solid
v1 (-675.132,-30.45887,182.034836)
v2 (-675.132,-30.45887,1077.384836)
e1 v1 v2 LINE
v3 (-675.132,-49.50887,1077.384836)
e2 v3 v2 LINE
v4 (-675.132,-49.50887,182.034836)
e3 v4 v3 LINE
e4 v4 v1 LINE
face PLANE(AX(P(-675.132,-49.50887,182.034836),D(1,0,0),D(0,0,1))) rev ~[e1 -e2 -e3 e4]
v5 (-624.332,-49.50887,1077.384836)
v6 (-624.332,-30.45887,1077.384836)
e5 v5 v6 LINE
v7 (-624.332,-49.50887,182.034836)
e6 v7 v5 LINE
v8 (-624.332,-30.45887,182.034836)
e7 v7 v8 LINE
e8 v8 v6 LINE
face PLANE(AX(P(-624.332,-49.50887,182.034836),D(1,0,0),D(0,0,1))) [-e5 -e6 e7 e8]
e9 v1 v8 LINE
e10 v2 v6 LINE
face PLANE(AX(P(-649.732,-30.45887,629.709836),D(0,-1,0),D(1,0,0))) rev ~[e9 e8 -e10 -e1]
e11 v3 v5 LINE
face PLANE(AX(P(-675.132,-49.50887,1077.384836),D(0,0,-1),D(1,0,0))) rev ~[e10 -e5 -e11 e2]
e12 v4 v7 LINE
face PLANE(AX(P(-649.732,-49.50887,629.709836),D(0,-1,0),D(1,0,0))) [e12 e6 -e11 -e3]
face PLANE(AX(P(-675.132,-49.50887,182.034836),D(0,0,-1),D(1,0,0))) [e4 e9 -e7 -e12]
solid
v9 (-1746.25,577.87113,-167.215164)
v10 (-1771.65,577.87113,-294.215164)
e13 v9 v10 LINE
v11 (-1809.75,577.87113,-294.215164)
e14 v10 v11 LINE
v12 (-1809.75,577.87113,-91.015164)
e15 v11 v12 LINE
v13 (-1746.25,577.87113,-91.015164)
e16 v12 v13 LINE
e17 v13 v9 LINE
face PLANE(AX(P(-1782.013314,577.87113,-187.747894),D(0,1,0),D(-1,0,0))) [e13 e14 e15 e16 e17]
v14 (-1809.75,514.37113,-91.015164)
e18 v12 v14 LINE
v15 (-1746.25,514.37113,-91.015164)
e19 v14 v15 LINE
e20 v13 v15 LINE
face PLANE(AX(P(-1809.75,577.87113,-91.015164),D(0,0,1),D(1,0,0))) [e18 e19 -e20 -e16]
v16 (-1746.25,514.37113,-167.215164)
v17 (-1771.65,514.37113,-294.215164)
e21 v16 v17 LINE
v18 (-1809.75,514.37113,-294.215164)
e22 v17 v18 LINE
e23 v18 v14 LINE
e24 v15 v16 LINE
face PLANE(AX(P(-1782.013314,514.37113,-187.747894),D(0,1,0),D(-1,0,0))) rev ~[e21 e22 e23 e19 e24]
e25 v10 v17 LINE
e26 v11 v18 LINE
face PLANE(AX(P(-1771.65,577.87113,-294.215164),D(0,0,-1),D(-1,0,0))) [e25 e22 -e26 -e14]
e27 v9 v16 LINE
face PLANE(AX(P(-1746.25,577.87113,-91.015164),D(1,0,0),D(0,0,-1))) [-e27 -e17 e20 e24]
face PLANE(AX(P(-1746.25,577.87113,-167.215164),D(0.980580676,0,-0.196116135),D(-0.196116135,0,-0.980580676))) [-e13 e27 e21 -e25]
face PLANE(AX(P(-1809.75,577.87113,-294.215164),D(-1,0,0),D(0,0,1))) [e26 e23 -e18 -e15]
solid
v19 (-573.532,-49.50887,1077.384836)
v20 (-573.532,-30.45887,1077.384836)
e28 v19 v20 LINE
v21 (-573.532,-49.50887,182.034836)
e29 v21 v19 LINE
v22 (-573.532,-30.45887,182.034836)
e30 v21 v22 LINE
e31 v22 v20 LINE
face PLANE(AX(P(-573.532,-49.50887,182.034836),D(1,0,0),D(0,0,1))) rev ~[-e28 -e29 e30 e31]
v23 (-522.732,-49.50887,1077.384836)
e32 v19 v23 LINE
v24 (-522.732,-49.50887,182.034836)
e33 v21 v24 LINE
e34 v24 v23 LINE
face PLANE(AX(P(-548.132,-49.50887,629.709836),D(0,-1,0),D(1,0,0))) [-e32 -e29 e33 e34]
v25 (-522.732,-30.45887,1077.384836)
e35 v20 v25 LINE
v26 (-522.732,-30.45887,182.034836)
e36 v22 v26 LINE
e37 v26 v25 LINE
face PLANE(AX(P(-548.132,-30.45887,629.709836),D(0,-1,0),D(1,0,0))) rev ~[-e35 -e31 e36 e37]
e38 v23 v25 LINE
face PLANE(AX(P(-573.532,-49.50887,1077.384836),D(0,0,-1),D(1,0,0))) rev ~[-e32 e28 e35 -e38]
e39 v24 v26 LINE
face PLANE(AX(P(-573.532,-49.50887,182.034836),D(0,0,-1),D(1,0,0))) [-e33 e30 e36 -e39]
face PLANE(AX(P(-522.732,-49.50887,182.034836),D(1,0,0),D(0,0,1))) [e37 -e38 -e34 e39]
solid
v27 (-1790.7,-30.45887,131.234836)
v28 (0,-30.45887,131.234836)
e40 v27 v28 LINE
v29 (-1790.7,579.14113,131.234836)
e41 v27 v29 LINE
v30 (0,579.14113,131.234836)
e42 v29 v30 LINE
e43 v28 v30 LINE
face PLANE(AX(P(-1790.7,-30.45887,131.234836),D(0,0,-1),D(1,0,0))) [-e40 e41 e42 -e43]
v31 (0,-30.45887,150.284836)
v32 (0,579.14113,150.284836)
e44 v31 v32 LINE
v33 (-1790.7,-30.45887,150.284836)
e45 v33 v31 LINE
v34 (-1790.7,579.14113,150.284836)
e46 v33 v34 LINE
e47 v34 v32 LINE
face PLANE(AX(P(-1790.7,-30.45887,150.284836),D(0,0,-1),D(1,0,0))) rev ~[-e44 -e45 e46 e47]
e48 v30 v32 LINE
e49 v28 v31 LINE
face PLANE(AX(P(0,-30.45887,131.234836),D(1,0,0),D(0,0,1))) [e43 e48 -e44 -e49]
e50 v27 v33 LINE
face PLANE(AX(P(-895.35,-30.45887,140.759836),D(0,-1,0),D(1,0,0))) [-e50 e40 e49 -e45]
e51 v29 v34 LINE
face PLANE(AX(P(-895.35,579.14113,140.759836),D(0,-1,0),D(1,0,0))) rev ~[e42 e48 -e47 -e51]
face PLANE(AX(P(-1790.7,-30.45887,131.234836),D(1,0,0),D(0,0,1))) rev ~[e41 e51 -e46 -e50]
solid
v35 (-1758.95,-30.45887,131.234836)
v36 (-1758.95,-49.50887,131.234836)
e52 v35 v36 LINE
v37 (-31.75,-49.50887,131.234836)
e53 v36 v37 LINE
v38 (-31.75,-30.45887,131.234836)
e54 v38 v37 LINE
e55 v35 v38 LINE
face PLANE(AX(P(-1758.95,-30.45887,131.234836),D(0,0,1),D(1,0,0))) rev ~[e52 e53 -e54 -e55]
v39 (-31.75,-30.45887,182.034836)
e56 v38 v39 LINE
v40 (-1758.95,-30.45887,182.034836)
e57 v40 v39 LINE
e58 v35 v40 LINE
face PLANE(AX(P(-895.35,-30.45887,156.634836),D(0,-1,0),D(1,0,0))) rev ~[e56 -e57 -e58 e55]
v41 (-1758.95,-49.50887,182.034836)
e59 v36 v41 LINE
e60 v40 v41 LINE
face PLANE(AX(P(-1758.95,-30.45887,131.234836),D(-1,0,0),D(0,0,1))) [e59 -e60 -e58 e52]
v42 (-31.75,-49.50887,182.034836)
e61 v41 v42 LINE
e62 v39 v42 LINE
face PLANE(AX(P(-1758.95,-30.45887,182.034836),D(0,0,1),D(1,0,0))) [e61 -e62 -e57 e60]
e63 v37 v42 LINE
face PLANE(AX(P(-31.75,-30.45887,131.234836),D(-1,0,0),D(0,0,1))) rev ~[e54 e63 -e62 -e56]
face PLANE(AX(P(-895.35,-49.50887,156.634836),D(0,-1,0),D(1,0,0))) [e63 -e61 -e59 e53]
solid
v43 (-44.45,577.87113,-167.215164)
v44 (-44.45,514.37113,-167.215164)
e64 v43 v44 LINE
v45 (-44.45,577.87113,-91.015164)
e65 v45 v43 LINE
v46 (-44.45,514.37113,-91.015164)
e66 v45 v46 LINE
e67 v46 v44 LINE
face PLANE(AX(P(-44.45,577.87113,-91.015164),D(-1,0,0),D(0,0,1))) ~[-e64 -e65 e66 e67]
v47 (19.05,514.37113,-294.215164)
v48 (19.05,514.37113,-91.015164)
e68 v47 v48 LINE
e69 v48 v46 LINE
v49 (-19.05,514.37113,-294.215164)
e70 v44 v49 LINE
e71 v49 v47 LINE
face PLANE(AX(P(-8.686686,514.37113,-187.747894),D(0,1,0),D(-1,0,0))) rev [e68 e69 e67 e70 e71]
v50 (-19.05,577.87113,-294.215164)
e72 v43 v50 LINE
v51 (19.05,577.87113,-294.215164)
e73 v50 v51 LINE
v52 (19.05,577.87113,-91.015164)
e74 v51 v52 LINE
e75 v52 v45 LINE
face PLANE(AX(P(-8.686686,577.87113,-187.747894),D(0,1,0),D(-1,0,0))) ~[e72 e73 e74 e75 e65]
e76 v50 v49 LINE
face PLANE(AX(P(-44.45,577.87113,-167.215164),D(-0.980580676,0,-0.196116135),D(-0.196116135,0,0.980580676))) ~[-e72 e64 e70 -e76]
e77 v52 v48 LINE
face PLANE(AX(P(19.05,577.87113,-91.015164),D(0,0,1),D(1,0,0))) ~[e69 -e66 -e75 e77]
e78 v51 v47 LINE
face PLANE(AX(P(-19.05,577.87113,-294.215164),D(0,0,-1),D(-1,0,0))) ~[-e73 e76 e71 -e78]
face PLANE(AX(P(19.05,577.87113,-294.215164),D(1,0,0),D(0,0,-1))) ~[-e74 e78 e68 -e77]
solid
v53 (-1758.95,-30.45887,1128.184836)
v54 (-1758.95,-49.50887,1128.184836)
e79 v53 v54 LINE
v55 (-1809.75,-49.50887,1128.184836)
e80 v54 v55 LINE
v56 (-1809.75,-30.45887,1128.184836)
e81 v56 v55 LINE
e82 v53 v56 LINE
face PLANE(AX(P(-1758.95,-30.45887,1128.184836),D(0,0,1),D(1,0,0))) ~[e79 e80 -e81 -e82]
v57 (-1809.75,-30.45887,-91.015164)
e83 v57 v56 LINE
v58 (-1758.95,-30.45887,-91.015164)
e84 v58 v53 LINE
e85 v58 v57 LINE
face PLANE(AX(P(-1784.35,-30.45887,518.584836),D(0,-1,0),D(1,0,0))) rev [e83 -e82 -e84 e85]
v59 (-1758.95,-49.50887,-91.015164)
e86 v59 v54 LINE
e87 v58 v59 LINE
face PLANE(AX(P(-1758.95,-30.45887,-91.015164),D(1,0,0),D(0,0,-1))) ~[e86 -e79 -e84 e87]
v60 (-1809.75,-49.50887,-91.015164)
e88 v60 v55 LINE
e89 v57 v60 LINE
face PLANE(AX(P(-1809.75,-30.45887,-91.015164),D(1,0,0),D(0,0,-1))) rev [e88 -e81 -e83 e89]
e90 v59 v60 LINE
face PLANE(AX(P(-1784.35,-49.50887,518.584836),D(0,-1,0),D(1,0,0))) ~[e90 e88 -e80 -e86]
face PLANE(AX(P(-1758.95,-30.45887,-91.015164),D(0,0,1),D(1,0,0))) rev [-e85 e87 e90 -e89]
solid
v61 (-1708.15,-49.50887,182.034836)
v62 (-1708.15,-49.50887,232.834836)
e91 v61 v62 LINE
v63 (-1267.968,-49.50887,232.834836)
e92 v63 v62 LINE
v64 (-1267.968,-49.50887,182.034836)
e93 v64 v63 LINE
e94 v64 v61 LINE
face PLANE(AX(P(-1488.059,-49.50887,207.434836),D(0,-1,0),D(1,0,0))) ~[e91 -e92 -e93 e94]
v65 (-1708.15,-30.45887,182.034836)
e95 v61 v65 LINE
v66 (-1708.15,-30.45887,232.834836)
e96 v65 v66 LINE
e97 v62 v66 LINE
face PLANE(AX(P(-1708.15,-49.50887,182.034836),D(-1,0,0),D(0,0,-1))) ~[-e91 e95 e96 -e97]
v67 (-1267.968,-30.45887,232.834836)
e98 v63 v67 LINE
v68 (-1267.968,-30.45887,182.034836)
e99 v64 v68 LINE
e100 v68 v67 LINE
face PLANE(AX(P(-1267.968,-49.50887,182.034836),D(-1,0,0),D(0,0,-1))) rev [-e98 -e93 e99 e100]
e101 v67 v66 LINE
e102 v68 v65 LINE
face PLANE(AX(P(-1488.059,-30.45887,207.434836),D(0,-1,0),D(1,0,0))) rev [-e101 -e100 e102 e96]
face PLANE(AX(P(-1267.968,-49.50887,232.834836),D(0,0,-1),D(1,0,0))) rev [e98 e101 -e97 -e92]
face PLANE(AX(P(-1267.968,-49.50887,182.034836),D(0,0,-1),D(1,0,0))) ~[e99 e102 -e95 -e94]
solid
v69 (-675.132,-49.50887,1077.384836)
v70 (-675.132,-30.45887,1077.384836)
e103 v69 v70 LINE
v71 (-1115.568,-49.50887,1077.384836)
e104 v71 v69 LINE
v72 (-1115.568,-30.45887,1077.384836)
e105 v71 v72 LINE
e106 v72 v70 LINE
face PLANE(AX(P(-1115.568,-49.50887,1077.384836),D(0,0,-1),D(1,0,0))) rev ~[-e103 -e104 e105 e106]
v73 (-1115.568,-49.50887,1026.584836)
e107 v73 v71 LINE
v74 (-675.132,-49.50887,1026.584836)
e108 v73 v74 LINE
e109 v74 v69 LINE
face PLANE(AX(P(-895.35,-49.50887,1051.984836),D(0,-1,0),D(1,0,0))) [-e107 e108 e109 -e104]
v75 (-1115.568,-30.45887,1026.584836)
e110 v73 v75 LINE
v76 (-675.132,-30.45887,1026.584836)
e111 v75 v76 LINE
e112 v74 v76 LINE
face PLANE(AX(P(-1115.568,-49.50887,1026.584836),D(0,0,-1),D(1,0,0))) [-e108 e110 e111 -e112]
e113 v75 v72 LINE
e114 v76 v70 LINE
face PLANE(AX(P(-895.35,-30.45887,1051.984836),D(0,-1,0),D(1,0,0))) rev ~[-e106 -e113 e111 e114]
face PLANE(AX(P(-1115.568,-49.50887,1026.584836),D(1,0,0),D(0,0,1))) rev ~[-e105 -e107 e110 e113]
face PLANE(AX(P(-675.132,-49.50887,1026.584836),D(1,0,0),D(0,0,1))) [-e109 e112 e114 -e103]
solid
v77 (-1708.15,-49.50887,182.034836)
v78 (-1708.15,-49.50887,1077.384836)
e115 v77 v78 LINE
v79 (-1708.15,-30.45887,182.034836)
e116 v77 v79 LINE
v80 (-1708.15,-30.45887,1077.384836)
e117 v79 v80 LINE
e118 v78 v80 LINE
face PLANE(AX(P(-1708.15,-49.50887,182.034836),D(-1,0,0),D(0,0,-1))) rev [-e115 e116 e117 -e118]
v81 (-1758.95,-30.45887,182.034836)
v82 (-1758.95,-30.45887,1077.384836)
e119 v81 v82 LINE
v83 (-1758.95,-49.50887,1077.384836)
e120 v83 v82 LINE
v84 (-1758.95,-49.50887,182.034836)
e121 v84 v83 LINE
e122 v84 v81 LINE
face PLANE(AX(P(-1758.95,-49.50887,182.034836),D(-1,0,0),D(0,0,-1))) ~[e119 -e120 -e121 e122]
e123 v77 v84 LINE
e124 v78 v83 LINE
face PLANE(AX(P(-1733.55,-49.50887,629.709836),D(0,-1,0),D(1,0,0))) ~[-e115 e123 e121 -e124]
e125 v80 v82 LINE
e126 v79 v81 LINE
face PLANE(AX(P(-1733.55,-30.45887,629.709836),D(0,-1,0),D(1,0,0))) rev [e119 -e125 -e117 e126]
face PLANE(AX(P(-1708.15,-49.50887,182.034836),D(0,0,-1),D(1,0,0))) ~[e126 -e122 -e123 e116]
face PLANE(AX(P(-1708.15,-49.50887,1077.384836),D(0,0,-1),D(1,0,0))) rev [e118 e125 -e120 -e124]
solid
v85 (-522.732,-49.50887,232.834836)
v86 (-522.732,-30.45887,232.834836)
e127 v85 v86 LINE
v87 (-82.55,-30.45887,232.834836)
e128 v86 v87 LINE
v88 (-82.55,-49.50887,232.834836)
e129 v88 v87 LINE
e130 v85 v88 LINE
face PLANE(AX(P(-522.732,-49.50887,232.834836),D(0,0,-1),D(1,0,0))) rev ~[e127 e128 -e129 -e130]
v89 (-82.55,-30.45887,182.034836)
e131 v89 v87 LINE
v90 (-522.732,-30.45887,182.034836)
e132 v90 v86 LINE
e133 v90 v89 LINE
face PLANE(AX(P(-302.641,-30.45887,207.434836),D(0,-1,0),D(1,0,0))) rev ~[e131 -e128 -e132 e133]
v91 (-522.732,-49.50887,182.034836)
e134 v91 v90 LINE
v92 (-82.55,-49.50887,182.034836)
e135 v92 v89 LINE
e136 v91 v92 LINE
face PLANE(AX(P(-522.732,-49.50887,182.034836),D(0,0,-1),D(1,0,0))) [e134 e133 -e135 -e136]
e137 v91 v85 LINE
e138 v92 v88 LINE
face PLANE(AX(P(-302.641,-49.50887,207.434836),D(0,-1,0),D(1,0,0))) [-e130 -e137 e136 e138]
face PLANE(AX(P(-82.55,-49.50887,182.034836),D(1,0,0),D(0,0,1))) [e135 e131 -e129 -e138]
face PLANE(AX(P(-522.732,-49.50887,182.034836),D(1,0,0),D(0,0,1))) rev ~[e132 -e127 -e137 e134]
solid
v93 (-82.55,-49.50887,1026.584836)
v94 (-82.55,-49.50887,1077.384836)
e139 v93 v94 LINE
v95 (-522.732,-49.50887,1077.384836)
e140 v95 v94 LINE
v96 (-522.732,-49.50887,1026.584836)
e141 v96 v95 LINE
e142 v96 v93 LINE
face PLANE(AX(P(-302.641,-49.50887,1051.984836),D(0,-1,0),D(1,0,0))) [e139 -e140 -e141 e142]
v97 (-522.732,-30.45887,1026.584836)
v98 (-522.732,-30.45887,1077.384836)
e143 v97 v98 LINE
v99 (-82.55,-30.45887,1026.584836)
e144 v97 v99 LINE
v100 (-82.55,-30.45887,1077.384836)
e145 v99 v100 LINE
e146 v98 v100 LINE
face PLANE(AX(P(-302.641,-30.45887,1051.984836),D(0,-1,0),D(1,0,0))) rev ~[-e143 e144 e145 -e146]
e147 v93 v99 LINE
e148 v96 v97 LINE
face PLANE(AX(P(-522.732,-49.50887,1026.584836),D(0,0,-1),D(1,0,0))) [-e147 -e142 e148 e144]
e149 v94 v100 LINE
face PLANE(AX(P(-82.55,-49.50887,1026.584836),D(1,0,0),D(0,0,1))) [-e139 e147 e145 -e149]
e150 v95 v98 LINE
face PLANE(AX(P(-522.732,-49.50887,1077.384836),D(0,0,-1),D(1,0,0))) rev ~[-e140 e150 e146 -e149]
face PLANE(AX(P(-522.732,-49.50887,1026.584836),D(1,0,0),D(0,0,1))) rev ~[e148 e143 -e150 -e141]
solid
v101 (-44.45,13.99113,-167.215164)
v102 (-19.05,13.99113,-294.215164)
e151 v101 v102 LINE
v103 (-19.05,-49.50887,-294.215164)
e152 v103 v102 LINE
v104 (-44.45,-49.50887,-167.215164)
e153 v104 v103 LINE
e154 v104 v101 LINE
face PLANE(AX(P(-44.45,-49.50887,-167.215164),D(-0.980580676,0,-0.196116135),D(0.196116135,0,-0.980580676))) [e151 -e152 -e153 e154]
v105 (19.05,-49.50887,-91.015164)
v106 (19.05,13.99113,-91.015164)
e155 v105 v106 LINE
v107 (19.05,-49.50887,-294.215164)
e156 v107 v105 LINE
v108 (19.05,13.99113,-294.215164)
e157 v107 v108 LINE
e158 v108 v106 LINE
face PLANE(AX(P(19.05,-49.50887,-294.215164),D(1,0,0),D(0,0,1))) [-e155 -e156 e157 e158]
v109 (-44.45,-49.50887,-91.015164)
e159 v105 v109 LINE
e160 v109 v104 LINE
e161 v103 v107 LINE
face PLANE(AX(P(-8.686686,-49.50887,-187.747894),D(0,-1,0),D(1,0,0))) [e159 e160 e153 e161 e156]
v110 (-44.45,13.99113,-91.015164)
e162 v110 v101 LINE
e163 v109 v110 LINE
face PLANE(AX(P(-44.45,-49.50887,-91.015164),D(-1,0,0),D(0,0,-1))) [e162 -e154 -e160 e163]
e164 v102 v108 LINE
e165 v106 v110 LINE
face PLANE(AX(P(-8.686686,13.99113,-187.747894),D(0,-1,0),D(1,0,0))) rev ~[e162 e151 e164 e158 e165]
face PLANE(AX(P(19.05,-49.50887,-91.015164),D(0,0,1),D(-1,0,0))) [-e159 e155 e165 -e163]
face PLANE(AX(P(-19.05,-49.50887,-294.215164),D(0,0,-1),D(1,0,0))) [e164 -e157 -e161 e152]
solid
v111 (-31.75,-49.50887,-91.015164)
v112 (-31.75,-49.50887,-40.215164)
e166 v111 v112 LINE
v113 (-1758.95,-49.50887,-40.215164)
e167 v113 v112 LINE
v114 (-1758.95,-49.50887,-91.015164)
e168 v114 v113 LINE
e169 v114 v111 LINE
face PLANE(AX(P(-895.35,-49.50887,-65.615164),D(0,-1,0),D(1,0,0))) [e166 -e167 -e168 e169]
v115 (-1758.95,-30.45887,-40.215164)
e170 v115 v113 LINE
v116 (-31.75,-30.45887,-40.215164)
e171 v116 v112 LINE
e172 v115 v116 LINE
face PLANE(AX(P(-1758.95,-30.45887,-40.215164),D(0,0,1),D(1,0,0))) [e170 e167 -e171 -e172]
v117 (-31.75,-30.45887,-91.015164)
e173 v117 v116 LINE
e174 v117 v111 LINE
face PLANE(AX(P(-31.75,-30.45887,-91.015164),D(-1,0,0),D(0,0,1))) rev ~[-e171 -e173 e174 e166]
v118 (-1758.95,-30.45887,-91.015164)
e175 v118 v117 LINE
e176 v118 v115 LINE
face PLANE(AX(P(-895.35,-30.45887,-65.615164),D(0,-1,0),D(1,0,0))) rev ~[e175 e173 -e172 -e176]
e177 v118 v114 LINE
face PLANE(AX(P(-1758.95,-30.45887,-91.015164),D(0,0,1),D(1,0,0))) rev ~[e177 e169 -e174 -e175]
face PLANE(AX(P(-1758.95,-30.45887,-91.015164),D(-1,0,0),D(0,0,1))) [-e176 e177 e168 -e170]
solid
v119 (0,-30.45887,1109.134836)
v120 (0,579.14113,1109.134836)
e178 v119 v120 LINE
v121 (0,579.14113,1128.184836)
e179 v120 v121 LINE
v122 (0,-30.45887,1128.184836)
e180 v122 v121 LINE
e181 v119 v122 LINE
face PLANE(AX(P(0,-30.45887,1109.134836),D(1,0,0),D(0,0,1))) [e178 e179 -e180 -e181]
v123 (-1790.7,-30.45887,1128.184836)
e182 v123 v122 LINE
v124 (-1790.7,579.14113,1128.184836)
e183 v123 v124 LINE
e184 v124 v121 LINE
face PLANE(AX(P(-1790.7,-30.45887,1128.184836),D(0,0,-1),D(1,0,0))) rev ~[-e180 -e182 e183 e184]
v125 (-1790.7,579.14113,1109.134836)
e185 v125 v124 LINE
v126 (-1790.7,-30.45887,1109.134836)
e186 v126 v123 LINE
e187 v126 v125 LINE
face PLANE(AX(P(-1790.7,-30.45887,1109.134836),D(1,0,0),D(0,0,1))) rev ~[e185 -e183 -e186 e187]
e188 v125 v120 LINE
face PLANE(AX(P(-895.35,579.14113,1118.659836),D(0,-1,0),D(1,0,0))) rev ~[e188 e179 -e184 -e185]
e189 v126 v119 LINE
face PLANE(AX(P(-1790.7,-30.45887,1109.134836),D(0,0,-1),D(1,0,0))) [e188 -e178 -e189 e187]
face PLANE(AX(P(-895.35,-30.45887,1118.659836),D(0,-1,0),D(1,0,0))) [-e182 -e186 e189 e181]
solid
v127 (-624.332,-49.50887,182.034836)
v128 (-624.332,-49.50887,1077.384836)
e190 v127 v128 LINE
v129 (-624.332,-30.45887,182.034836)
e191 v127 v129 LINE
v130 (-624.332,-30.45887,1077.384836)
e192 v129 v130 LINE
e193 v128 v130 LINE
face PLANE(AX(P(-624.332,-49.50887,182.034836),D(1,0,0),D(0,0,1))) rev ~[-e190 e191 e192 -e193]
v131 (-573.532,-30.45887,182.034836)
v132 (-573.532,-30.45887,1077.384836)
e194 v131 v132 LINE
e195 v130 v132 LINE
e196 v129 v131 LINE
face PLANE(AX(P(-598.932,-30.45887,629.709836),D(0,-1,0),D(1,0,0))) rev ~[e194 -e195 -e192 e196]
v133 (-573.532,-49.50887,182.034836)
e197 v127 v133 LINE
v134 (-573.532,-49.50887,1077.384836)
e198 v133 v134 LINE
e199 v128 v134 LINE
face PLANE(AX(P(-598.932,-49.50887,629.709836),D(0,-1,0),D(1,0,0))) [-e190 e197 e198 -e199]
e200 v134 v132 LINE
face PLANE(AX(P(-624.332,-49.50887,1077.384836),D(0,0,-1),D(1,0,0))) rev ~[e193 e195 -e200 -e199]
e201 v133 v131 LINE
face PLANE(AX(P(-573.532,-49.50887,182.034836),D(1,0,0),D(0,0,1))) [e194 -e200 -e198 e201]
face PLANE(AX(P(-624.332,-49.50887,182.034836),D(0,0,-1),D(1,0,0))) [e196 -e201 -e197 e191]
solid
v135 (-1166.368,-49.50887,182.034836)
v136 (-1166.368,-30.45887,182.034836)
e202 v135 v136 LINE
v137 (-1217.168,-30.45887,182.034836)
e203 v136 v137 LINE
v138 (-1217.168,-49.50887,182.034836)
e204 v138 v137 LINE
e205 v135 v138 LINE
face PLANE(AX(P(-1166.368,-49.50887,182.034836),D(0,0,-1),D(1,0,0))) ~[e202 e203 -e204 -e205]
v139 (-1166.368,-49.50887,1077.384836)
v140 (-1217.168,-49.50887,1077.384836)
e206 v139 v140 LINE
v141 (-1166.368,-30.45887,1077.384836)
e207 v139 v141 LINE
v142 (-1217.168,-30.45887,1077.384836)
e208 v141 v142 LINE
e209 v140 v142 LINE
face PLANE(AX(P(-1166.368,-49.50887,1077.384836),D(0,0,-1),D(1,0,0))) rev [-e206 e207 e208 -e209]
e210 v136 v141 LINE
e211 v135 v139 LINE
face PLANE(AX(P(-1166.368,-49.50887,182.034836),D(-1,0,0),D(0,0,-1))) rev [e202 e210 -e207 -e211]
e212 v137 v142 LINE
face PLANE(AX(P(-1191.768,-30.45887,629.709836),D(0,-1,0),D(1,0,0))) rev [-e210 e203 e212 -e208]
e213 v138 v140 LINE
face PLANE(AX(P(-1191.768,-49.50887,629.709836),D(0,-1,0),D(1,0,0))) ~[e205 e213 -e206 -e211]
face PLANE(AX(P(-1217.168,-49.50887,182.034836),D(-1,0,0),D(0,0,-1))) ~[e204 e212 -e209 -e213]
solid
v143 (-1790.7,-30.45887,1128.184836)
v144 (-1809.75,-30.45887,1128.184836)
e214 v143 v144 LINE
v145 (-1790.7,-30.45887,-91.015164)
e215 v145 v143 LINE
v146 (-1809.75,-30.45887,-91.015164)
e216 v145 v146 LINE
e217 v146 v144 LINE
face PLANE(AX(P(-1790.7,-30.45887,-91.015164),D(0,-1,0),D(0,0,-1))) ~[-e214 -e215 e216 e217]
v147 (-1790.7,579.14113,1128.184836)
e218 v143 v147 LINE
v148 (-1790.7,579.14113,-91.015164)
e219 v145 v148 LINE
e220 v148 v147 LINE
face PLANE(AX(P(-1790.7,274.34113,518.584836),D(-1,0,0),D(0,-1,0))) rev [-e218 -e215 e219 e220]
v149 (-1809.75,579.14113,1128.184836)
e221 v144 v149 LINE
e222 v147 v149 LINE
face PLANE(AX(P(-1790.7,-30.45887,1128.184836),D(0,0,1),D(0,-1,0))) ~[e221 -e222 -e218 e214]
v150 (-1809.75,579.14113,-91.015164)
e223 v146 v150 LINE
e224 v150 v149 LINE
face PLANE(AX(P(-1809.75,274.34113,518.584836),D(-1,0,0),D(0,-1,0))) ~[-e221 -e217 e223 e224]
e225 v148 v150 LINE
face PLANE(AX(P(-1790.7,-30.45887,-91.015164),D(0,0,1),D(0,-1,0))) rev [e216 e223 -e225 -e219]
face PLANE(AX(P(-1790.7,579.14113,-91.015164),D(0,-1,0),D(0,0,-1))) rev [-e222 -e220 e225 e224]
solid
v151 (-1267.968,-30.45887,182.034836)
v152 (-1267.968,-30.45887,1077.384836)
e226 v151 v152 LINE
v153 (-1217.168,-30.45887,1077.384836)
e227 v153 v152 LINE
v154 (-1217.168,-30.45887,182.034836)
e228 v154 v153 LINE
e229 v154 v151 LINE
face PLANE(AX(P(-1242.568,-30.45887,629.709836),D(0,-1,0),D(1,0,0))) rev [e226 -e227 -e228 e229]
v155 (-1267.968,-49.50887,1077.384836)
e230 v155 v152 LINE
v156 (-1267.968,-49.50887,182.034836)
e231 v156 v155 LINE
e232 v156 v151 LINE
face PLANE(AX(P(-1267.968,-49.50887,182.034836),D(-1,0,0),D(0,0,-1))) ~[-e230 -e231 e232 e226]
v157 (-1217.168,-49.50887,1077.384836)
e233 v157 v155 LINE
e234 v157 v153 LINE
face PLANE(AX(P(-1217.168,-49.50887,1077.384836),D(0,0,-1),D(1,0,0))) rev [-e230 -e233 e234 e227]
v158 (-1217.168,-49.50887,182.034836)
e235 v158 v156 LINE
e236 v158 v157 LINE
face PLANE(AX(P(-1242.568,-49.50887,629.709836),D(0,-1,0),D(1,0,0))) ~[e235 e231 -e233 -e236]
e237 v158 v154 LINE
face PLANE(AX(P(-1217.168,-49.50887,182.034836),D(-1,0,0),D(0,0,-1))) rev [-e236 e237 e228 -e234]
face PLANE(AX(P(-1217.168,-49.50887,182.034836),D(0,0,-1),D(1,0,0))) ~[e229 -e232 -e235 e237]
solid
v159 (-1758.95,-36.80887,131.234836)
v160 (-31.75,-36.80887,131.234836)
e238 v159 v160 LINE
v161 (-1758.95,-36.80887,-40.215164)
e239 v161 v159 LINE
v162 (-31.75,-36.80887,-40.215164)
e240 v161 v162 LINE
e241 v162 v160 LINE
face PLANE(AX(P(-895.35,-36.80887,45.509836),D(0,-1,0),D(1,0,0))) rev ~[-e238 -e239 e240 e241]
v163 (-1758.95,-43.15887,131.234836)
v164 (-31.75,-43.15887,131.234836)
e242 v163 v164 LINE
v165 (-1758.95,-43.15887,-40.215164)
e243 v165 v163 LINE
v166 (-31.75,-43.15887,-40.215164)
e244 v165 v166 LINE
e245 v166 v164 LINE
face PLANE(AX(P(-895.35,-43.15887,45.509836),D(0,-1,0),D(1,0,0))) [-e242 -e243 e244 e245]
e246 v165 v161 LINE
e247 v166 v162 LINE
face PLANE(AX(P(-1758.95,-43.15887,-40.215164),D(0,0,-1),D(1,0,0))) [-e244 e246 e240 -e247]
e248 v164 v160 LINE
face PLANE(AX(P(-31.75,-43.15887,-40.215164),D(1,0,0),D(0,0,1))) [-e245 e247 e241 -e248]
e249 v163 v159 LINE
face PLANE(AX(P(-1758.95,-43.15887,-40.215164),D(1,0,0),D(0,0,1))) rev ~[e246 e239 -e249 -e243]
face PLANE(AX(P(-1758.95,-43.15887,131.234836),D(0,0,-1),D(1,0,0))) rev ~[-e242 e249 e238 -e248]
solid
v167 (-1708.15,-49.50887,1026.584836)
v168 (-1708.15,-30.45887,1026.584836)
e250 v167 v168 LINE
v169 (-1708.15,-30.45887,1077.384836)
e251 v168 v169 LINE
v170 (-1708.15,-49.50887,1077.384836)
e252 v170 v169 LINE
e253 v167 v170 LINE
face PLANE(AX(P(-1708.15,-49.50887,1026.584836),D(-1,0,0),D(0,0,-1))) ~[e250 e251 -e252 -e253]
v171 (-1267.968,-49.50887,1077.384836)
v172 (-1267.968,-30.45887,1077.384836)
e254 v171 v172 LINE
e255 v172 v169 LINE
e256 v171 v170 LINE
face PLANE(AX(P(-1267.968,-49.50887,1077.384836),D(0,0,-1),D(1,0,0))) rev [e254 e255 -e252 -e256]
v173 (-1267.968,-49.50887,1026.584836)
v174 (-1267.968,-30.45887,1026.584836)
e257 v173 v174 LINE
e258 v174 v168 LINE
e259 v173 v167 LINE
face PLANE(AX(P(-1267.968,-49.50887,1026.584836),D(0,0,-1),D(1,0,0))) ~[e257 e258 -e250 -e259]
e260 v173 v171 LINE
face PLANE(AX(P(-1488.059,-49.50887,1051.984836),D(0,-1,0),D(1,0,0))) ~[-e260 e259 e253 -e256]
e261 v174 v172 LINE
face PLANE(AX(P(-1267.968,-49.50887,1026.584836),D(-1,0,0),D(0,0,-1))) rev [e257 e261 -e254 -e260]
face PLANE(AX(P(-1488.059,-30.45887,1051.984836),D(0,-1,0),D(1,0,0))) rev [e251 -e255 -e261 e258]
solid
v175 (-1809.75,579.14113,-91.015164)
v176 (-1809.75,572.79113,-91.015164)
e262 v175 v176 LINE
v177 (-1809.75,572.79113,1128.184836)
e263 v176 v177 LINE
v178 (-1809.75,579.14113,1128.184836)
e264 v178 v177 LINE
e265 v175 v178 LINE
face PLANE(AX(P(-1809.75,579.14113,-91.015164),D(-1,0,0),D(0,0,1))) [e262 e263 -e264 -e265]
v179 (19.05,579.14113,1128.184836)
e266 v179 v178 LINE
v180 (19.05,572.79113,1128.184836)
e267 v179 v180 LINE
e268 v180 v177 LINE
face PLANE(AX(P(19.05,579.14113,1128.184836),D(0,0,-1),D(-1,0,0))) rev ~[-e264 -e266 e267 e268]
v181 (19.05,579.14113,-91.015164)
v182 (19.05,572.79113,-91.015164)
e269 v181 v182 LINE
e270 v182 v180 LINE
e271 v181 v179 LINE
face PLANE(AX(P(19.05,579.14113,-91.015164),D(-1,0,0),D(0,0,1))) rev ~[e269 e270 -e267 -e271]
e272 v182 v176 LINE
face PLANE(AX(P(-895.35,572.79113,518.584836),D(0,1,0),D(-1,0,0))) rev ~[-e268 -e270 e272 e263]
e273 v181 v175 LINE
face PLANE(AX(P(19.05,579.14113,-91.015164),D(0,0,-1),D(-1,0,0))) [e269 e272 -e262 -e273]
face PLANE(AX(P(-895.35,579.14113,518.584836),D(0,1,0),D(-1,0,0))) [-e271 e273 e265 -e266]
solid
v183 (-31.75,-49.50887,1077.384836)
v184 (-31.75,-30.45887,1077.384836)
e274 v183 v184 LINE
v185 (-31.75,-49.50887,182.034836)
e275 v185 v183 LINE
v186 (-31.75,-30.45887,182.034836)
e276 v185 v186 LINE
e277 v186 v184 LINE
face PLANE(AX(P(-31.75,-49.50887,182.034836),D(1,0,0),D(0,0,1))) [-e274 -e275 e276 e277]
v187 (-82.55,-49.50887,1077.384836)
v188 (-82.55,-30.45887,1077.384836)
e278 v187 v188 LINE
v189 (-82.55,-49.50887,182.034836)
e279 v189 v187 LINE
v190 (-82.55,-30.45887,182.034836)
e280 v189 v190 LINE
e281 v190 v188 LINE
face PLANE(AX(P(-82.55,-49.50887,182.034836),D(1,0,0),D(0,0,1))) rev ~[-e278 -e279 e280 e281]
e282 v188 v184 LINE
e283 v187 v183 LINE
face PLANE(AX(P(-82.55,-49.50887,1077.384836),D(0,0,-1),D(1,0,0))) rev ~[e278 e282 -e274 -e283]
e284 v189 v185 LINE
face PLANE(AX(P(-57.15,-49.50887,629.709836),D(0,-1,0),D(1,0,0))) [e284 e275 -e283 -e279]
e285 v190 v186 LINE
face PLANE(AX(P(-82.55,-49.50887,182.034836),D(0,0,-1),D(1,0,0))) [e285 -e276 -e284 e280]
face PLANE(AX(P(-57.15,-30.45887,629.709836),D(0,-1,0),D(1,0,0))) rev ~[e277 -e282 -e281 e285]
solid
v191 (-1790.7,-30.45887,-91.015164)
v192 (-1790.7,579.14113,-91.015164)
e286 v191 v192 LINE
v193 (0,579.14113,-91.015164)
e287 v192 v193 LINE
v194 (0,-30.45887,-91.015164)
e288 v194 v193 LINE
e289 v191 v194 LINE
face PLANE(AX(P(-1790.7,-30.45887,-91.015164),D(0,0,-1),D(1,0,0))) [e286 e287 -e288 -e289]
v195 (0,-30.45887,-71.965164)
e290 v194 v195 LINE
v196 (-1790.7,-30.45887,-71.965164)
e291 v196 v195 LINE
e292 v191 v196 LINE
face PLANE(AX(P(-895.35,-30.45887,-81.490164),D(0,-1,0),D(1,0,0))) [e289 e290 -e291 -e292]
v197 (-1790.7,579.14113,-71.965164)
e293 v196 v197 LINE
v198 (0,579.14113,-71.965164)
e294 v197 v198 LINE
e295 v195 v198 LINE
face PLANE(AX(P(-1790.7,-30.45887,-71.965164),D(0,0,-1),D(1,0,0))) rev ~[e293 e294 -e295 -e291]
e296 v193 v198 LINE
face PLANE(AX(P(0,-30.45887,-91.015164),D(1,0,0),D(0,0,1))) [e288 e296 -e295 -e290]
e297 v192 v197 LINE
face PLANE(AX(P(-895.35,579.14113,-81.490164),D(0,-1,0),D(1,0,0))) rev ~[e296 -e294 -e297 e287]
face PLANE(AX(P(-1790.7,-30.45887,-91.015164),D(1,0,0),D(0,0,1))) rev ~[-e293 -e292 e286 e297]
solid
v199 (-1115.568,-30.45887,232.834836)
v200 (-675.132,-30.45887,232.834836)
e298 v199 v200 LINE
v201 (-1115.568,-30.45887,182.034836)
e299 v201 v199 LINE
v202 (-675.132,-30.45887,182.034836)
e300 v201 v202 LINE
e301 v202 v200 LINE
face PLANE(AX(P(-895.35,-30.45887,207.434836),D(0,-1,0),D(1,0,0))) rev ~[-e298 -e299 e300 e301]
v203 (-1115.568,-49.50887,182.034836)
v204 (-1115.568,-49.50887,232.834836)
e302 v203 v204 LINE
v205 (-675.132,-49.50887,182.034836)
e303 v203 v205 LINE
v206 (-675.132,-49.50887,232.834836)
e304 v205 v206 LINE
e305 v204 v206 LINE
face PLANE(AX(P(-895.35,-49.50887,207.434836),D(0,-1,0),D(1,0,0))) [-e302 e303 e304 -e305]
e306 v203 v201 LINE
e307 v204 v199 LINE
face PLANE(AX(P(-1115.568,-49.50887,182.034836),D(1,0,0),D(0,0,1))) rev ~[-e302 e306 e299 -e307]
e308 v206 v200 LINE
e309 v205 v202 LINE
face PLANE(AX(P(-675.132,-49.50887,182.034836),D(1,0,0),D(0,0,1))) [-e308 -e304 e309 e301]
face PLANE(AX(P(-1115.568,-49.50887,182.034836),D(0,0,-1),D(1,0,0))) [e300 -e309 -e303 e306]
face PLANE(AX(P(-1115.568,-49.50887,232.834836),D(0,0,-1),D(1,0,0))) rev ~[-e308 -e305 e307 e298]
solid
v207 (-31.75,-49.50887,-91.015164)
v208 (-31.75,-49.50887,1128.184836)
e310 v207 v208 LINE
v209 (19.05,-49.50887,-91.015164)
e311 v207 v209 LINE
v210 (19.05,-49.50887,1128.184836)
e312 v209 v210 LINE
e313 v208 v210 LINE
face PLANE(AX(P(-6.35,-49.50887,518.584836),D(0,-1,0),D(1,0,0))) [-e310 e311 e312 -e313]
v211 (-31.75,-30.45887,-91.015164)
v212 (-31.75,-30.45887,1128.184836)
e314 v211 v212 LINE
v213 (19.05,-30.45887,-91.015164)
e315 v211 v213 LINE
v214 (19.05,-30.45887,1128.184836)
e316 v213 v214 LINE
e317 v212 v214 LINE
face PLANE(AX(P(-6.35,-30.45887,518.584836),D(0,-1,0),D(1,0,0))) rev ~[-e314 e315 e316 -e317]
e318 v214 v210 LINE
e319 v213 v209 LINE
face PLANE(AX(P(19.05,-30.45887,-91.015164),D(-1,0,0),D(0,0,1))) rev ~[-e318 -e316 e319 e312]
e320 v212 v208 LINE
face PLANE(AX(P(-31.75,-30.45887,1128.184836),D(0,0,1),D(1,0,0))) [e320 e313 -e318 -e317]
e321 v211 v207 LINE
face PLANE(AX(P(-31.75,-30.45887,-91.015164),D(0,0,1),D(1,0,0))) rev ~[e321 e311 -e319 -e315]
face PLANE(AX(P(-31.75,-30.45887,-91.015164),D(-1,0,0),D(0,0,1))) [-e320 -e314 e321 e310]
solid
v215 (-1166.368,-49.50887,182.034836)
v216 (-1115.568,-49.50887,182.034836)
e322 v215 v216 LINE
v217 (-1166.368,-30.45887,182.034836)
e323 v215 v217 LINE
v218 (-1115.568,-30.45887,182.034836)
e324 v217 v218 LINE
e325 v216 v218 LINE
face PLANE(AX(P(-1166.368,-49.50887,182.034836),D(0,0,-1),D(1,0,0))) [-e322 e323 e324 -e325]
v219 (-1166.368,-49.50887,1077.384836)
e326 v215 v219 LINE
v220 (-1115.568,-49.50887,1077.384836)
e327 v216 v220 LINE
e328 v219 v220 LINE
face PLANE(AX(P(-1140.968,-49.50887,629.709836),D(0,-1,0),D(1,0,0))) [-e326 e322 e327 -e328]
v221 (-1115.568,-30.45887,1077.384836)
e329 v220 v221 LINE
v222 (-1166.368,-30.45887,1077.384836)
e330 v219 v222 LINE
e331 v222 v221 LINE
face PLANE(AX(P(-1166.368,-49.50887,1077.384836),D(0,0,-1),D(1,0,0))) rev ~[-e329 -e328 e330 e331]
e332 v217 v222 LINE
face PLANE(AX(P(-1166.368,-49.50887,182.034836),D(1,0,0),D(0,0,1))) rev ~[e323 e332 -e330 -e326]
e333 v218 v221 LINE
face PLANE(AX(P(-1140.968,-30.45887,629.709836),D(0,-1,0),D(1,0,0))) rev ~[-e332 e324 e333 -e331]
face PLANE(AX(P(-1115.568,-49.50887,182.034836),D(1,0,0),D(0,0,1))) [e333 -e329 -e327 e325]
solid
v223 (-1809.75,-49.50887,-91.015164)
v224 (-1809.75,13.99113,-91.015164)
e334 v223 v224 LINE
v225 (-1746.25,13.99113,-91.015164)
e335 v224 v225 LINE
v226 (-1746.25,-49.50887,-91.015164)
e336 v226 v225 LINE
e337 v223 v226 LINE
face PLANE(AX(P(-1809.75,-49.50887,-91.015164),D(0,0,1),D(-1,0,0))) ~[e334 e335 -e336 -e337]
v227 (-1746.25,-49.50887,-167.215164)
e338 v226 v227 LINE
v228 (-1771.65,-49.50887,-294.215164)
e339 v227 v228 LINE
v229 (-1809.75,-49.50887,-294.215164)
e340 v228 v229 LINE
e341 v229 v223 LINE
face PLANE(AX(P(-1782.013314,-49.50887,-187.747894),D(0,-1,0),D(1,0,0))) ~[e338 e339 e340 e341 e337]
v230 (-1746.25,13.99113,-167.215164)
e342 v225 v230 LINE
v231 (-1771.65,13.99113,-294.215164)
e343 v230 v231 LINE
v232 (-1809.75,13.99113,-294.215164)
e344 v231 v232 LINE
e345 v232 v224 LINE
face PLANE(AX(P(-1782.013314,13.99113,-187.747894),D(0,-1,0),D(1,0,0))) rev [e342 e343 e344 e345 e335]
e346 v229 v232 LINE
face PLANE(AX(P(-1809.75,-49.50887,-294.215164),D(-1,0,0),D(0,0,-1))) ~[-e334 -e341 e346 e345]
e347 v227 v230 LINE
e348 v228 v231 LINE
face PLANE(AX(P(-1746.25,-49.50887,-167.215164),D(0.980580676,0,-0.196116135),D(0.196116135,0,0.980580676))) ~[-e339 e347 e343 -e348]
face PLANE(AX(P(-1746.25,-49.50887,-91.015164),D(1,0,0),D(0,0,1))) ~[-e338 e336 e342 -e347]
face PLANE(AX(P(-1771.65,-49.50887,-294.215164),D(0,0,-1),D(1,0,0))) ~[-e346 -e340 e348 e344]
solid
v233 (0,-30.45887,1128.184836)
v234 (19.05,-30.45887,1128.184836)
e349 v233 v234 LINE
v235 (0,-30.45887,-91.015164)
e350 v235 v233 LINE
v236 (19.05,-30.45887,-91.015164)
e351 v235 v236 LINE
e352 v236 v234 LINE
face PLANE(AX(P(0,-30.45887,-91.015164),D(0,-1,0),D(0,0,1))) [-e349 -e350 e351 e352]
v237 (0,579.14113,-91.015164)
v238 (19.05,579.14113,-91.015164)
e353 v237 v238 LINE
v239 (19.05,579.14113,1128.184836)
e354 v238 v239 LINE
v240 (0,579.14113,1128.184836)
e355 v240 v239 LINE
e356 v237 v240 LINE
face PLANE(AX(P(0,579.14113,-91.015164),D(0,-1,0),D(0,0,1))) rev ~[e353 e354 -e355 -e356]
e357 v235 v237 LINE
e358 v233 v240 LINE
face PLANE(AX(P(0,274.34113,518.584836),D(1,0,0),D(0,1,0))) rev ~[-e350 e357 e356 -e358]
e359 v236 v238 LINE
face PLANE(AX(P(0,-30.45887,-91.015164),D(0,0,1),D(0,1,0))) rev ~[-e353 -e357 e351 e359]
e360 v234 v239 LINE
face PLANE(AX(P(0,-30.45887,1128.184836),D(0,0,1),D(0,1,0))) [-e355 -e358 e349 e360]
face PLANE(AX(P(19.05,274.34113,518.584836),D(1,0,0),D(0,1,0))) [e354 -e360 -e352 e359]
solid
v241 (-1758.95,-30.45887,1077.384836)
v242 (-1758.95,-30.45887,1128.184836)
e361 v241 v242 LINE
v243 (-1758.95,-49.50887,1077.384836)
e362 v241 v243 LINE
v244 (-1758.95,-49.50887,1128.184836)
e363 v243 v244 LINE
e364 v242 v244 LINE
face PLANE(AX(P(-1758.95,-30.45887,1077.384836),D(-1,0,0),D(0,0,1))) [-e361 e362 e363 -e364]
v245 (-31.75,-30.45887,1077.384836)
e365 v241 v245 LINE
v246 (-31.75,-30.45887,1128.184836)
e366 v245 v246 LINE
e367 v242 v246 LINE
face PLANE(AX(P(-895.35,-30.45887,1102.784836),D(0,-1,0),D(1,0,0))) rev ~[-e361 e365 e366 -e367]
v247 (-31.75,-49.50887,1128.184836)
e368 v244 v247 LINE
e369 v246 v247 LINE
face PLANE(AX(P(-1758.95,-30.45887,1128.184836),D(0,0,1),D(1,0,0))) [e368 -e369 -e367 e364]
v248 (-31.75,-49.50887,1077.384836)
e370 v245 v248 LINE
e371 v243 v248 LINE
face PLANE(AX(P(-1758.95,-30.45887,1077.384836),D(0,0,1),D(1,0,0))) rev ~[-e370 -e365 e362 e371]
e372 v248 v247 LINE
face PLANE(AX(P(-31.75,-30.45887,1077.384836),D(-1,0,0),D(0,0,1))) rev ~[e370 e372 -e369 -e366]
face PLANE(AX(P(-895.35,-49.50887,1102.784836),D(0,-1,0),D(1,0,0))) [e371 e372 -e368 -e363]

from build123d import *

# Parameters (mm, degrees)
F0_W      = 609.6
F0_H      = 1219.2
F1_DEPTH  = 19.05
F4_W      = 1790.7
F4_H      = 19.05
F5_DEPTH  = 609.6
F6_W      = 1790.7
F6_H      = 19.05
F7_DEPTH  = 609.6
F8_W      = 1790.7
F8_H      = 19.05
F9_DEPTH  = 609.6
F10_W     = 50.8
F10_H     = 1219.2
F11_DEPTH = 19.05
F13_W     = 1727.2
F13_H     = 50.8
F14_DEPTH = 19.05
F15_W     = 1727.2
F15_H     = 50.8
F16_DEPTH = 19.05
F17_W     = 1727.2
F17_H     = 50.8
F18_DEPTH = 19.05
F21_W     = 50.8
F21_H     = 895.35
F22_DEPTH = 19.05
F20_W     = 1727.2
F20_H     = 171.45
F24_DEPTH = 6.35
F25_W     = 50.8
F25_H     = 895.35
F26_DEPTH = 19.05
F27_W     = 50.8
F27_H     = 895.35
F28_DEPTH = 19.05
F29_W     = 440.182
F29_H     = 50.8
F30_DEPTH = 19.05
F31_W     = 440.182
F31_H     = 50.8
F32_DEPTH = 19.05
F34_W     = 50.8
F34_H     = 895.35
F35_DEPTH = 19.05
F36_W     = 50.8
F36_H     = 895.35
F37_DEPTH = 19.05
F38_W     = 440.436
F38_H     = 50.8
F39_DEPTH = 19.05
F40_W     = 440.436
F40_H     = 50.8
F41_DEPTH = 19.05
F42_W     = 1828.8
F42_H     = 1219.2
F43_DEPTH = 6.35
F45_DEPTH = 63.5


with BuildPart() as f1:
    # F0 (on Right) → F1 (new body)
    with BuildSketch(Plane.YZ):
        with Locations((274.3411302805, 518.5848358816)):
            Rectangle(F0_W, F0_H)
    extrude(amount=F1_DEPTH)


with BuildPart() as f3_1:
    # F3: instance of F1
    add(f1.part.mirror(Plane(origin=(-895.35, 274.3411302805, 518.5848358816), x_dir=(0, 1, 0), z_dir=(1, 0, 0))))


with BuildPart() as f5:
    # F4 (on face) → F5 (new body)
    with BuildSketch(Plane.XZ.offset(30.4588697195)):
        with Locations((-895.35, 1118.6598358816)):
            Rectangle(F4_W, F4_H)
    extrude(amount=-F5_DEPTH)


with BuildPart() as f7:
    # F6 (on face) → F7 (new body)
    with BuildSketch(Plane.XZ.offset(30.4588697195)):
        with Locations((-895.35, -81.4901641184)):
            Rectangle(F6_W, F6_H)
    extrude(amount=-F7_DEPTH)


with BuildPart() as f9:
    # F8 (on face) → F9 (new body)
    with BuildSketch(Plane.XZ.offset(30.4588697195)):
        with Locations((-895.35, 140.7598358816)):
            Rectangle(F8_W, F8_H)
    extrude(amount=-F9_DEPTH)


with BuildPart() as f11:
    # F10 (on face) → F11 (new body)
    with BuildSketch(Plane.XZ.offset(30.4588697195)):
        with Locations((-6.35, 518.5848358816)):
            Rectangle(F10_W, F10_H)
    extrude(amount=F11_DEPTH)


with BuildPart() as f12_1:
    # F12: instance of F11
    add(f11.part.mirror(Plane(origin=(-895.35, 274.3411302805, 518.5848358816), x_dir=(0, 1, 0), z_dir=(1, 0, 0))))


with BuildPart() as f14:
    # F13 (on face) → F14 (new body)
    with BuildSketch(Plane.XZ.offset(30.4588697195)):
        with Locations((-895.35, 1102.7848358816)):
            Rectangle(F13_W, F13_H)
    extrude(amount=F14_DEPTH)


with BuildPart() as f16:
    # F15 (on face) → F16 (new body)
    with BuildSketch(Plane.XZ.offset(30.4588697195)):
        with Locations((-895.35, 156.6348358816)):
            Rectangle(F15_W, F15_H)
    extrude(amount=F16_DEPTH)


with BuildPart() as f18:
    # F17 (on face) → F18 (new body)
    with BuildSketch(Plane.XZ.offset(30.4588697195)):
        with Locations((-895.35, -65.6151641184)):
            Rectangle(F17_W, F17_H)
    extrude(amount=F18_DEPTH)


with BuildPart() as f22:
    # F21 (on face) → F22 (new body)
    with BuildSketch(Plane.XZ.offset(49.5088697195)):
        with Locations((-598.932, 629.7098358816)):
            Rectangle(F21_W, F21_H)
    extrude(amount=-F22_DEPTH)


with BuildPart() as f23_1:
    # F23: instance of F22
    add(f22.part.mirror(Plane(origin=(-895.35, 274.3411302805, 518.5848358816), x_dir=(0, 1, 0), z_dir=(1, 0, 0))))


with BuildPart() as f24:
    # F20 (on offset) → F24 (new body)
    with BuildSketch(Plane.XZ.offset(43.1588697195)):
        with Locations((-895.35, 45.5098358816)):
            Rectangle(F20_W, F20_H)
    extrude(amount=-F24_DEPTH)


with BuildPart() as f26:
    # F25 (on face) → F26 (new body)
    with BuildSketch(Plane.XZ.offset(49.5088697195)):
        with Locations((-57.15, 629.7098358816)):
            Rectangle(F25_W, F25_H)
    extrude(amount=-F26_DEPTH)


with BuildPart() as f28:
    # F27 (on face) → F28 (new body)
    with BuildSketch(Plane.XZ.offset(49.5088697195)):
        with Locations((-548.132, 629.7098358816)):
            Rectangle(F27_W, F27_H)
    extrude(amount=-F28_DEPTH)


with BuildPart() as f30:
    # F29 (on face) → F30 (new body)
    with BuildSketch(Plane.XZ.offset(49.5088697195)):
        with Locations((-302.641, 1051.9848358816)):
            Rectangle(F29_W, F29_H)
    extrude(amount=-F30_DEPTH)


with BuildPart() as f32:
    # F31 (on face) → F32 (new body)
    with BuildSketch(Plane.XZ.offset(49.5088697195)):
        with Locations((-302.641, 207.4348358816)):
            Rectangle(F31_W, F31_H)
    extrude(amount=-F32_DEPTH)


with BuildPart() as f33_1:
    # F33: instance of F28
    add(f28.part.mirror(Plane(origin=(-895.35, 274.3411302805, 518.5848358816), x_dir=(0, 1, 0), z_dir=(1, 0, 0))))


with BuildPart() as f33_2:
    # F33: instance of F30
    add(f30.part.mirror(Plane(origin=(-895.35, 274.3411302805, 518.5848358816), x_dir=(0, 1, 0), z_dir=(1, 0, 0))))


with BuildPart() as f33_3:
    # F33: instance of F26
    add(f26.part.mirror(Plane(origin=(-895.35, 274.3411302805, 518.5848358816), x_dir=(0, 1, 0), z_dir=(1, 0, 0))))


with BuildPart() as f33_4:
    # F33: instance of F32
    add(f32.part.mirror(Plane(origin=(-895.35, 274.3411302805, 518.5848358816), x_dir=(0, 1, 0), z_dir=(1, 0, 0))))


with BuildPart() as f35:
    # F34 (on face) → F35 (new body)
    with BuildSketch(Plane.XZ.offset(49.5088697195)):
        with Locations((-649.732, 629.7098358816)):
            Rectangle(F34_W, F34_H)
    extrude(amount=-F35_DEPTH)


with BuildPart() as f37:
    # F36 (on face) → F37 (new body)
    with BuildSketch(Plane.XZ.offset(49.5088697195)):
        with Locations((-1140.968, 629.7098358816)):
            Rectangle(F36_W, F36_H)
    extrude(amount=-F37_DEPTH)


with BuildPart() as f39:
    # F38 (on face) → F39 (new body)
    with BuildSketch(Plane.XZ.offset(49.5088697195)):
        with Locations((-895.35, 1051.9848358816)):
            Rectangle(F38_W, F38_H)
    extrude(amount=-F39_DEPTH)


with BuildPart() as f41:
    # F40 (on face) → F41 (new body)
    with BuildSketch(Plane.XZ.offset(49.5088697195)):
        with Locations((-895.35, 207.4348358816)):
            Rectangle(F40_W, F40_H)
    extrude(amount=-F41_DEPTH)


with BuildPart() as f43:
    # F42 (on face) → F43 (new body)
    with BuildSketch(Plane(origin=(0, 579.1411302805, 0), x_dir=(-1, 0, 0), z_dir=(0, 1, 0))):
        with Locations((895.35, 518.5848358816)):
            Rectangle(F42_W, F42_H)
    extrude(amount=-F43_DEPTH)


with BuildPart() as f45:
    # F44 (on face) → F45 (new body)
    with BuildSketch(Plane.XZ.offset(49.5088697195)):
        Polygon((19.05, -294.2151641184), (19.05, -91.0151641184), (-44.45, -91.0151641184), (-44.45, -167.2151641184), (-19.05, -294.2151641184), align=None)
    extrude(amount=-F45_DEPTH)


with BuildPart() as f46_1:
    # F46: instance of F45
    add(f45.part.mirror(Plane(origin=(-895.35, 274.3411302805, 518.5848358816), x_dir=(0, 1, 0), z_dir=(1, 0, 0))))


with BuildPart() as f48_1:
    # F48: instance of F46_1
    add(f46_1.part.mirror(Plane(origin=(-895.35, 264.1811302805, 1118.6598358816), x_dir=(1, 0, 0), z_dir=(0, 1, 0))))


with BuildPart() as f48_2:
    # F48: instance of F45
    add(f45.part.mirror(Plane(origin=(-895.35, 264.1811302805, 1118.6598358816), x_dir=(1, 0, 0), z_dir=(0, 1, 0))))


solid = Compound([f1.part, f3_1.part, f5.part, f7.part, f9.part, f11.part, f12_1.part, f14.part, f16.part, f18.part, f22.part, f23_1.part, f24.part, f26.part, f28.part, f30.part, f32.part, f33_1.part, f33_2.part, f33_3.part, f33_4.part, f35.part, f37.part, f39.part, f41.part, f43.part, f45.part, f46_1.part, f48_1.part, f48_2.part])
